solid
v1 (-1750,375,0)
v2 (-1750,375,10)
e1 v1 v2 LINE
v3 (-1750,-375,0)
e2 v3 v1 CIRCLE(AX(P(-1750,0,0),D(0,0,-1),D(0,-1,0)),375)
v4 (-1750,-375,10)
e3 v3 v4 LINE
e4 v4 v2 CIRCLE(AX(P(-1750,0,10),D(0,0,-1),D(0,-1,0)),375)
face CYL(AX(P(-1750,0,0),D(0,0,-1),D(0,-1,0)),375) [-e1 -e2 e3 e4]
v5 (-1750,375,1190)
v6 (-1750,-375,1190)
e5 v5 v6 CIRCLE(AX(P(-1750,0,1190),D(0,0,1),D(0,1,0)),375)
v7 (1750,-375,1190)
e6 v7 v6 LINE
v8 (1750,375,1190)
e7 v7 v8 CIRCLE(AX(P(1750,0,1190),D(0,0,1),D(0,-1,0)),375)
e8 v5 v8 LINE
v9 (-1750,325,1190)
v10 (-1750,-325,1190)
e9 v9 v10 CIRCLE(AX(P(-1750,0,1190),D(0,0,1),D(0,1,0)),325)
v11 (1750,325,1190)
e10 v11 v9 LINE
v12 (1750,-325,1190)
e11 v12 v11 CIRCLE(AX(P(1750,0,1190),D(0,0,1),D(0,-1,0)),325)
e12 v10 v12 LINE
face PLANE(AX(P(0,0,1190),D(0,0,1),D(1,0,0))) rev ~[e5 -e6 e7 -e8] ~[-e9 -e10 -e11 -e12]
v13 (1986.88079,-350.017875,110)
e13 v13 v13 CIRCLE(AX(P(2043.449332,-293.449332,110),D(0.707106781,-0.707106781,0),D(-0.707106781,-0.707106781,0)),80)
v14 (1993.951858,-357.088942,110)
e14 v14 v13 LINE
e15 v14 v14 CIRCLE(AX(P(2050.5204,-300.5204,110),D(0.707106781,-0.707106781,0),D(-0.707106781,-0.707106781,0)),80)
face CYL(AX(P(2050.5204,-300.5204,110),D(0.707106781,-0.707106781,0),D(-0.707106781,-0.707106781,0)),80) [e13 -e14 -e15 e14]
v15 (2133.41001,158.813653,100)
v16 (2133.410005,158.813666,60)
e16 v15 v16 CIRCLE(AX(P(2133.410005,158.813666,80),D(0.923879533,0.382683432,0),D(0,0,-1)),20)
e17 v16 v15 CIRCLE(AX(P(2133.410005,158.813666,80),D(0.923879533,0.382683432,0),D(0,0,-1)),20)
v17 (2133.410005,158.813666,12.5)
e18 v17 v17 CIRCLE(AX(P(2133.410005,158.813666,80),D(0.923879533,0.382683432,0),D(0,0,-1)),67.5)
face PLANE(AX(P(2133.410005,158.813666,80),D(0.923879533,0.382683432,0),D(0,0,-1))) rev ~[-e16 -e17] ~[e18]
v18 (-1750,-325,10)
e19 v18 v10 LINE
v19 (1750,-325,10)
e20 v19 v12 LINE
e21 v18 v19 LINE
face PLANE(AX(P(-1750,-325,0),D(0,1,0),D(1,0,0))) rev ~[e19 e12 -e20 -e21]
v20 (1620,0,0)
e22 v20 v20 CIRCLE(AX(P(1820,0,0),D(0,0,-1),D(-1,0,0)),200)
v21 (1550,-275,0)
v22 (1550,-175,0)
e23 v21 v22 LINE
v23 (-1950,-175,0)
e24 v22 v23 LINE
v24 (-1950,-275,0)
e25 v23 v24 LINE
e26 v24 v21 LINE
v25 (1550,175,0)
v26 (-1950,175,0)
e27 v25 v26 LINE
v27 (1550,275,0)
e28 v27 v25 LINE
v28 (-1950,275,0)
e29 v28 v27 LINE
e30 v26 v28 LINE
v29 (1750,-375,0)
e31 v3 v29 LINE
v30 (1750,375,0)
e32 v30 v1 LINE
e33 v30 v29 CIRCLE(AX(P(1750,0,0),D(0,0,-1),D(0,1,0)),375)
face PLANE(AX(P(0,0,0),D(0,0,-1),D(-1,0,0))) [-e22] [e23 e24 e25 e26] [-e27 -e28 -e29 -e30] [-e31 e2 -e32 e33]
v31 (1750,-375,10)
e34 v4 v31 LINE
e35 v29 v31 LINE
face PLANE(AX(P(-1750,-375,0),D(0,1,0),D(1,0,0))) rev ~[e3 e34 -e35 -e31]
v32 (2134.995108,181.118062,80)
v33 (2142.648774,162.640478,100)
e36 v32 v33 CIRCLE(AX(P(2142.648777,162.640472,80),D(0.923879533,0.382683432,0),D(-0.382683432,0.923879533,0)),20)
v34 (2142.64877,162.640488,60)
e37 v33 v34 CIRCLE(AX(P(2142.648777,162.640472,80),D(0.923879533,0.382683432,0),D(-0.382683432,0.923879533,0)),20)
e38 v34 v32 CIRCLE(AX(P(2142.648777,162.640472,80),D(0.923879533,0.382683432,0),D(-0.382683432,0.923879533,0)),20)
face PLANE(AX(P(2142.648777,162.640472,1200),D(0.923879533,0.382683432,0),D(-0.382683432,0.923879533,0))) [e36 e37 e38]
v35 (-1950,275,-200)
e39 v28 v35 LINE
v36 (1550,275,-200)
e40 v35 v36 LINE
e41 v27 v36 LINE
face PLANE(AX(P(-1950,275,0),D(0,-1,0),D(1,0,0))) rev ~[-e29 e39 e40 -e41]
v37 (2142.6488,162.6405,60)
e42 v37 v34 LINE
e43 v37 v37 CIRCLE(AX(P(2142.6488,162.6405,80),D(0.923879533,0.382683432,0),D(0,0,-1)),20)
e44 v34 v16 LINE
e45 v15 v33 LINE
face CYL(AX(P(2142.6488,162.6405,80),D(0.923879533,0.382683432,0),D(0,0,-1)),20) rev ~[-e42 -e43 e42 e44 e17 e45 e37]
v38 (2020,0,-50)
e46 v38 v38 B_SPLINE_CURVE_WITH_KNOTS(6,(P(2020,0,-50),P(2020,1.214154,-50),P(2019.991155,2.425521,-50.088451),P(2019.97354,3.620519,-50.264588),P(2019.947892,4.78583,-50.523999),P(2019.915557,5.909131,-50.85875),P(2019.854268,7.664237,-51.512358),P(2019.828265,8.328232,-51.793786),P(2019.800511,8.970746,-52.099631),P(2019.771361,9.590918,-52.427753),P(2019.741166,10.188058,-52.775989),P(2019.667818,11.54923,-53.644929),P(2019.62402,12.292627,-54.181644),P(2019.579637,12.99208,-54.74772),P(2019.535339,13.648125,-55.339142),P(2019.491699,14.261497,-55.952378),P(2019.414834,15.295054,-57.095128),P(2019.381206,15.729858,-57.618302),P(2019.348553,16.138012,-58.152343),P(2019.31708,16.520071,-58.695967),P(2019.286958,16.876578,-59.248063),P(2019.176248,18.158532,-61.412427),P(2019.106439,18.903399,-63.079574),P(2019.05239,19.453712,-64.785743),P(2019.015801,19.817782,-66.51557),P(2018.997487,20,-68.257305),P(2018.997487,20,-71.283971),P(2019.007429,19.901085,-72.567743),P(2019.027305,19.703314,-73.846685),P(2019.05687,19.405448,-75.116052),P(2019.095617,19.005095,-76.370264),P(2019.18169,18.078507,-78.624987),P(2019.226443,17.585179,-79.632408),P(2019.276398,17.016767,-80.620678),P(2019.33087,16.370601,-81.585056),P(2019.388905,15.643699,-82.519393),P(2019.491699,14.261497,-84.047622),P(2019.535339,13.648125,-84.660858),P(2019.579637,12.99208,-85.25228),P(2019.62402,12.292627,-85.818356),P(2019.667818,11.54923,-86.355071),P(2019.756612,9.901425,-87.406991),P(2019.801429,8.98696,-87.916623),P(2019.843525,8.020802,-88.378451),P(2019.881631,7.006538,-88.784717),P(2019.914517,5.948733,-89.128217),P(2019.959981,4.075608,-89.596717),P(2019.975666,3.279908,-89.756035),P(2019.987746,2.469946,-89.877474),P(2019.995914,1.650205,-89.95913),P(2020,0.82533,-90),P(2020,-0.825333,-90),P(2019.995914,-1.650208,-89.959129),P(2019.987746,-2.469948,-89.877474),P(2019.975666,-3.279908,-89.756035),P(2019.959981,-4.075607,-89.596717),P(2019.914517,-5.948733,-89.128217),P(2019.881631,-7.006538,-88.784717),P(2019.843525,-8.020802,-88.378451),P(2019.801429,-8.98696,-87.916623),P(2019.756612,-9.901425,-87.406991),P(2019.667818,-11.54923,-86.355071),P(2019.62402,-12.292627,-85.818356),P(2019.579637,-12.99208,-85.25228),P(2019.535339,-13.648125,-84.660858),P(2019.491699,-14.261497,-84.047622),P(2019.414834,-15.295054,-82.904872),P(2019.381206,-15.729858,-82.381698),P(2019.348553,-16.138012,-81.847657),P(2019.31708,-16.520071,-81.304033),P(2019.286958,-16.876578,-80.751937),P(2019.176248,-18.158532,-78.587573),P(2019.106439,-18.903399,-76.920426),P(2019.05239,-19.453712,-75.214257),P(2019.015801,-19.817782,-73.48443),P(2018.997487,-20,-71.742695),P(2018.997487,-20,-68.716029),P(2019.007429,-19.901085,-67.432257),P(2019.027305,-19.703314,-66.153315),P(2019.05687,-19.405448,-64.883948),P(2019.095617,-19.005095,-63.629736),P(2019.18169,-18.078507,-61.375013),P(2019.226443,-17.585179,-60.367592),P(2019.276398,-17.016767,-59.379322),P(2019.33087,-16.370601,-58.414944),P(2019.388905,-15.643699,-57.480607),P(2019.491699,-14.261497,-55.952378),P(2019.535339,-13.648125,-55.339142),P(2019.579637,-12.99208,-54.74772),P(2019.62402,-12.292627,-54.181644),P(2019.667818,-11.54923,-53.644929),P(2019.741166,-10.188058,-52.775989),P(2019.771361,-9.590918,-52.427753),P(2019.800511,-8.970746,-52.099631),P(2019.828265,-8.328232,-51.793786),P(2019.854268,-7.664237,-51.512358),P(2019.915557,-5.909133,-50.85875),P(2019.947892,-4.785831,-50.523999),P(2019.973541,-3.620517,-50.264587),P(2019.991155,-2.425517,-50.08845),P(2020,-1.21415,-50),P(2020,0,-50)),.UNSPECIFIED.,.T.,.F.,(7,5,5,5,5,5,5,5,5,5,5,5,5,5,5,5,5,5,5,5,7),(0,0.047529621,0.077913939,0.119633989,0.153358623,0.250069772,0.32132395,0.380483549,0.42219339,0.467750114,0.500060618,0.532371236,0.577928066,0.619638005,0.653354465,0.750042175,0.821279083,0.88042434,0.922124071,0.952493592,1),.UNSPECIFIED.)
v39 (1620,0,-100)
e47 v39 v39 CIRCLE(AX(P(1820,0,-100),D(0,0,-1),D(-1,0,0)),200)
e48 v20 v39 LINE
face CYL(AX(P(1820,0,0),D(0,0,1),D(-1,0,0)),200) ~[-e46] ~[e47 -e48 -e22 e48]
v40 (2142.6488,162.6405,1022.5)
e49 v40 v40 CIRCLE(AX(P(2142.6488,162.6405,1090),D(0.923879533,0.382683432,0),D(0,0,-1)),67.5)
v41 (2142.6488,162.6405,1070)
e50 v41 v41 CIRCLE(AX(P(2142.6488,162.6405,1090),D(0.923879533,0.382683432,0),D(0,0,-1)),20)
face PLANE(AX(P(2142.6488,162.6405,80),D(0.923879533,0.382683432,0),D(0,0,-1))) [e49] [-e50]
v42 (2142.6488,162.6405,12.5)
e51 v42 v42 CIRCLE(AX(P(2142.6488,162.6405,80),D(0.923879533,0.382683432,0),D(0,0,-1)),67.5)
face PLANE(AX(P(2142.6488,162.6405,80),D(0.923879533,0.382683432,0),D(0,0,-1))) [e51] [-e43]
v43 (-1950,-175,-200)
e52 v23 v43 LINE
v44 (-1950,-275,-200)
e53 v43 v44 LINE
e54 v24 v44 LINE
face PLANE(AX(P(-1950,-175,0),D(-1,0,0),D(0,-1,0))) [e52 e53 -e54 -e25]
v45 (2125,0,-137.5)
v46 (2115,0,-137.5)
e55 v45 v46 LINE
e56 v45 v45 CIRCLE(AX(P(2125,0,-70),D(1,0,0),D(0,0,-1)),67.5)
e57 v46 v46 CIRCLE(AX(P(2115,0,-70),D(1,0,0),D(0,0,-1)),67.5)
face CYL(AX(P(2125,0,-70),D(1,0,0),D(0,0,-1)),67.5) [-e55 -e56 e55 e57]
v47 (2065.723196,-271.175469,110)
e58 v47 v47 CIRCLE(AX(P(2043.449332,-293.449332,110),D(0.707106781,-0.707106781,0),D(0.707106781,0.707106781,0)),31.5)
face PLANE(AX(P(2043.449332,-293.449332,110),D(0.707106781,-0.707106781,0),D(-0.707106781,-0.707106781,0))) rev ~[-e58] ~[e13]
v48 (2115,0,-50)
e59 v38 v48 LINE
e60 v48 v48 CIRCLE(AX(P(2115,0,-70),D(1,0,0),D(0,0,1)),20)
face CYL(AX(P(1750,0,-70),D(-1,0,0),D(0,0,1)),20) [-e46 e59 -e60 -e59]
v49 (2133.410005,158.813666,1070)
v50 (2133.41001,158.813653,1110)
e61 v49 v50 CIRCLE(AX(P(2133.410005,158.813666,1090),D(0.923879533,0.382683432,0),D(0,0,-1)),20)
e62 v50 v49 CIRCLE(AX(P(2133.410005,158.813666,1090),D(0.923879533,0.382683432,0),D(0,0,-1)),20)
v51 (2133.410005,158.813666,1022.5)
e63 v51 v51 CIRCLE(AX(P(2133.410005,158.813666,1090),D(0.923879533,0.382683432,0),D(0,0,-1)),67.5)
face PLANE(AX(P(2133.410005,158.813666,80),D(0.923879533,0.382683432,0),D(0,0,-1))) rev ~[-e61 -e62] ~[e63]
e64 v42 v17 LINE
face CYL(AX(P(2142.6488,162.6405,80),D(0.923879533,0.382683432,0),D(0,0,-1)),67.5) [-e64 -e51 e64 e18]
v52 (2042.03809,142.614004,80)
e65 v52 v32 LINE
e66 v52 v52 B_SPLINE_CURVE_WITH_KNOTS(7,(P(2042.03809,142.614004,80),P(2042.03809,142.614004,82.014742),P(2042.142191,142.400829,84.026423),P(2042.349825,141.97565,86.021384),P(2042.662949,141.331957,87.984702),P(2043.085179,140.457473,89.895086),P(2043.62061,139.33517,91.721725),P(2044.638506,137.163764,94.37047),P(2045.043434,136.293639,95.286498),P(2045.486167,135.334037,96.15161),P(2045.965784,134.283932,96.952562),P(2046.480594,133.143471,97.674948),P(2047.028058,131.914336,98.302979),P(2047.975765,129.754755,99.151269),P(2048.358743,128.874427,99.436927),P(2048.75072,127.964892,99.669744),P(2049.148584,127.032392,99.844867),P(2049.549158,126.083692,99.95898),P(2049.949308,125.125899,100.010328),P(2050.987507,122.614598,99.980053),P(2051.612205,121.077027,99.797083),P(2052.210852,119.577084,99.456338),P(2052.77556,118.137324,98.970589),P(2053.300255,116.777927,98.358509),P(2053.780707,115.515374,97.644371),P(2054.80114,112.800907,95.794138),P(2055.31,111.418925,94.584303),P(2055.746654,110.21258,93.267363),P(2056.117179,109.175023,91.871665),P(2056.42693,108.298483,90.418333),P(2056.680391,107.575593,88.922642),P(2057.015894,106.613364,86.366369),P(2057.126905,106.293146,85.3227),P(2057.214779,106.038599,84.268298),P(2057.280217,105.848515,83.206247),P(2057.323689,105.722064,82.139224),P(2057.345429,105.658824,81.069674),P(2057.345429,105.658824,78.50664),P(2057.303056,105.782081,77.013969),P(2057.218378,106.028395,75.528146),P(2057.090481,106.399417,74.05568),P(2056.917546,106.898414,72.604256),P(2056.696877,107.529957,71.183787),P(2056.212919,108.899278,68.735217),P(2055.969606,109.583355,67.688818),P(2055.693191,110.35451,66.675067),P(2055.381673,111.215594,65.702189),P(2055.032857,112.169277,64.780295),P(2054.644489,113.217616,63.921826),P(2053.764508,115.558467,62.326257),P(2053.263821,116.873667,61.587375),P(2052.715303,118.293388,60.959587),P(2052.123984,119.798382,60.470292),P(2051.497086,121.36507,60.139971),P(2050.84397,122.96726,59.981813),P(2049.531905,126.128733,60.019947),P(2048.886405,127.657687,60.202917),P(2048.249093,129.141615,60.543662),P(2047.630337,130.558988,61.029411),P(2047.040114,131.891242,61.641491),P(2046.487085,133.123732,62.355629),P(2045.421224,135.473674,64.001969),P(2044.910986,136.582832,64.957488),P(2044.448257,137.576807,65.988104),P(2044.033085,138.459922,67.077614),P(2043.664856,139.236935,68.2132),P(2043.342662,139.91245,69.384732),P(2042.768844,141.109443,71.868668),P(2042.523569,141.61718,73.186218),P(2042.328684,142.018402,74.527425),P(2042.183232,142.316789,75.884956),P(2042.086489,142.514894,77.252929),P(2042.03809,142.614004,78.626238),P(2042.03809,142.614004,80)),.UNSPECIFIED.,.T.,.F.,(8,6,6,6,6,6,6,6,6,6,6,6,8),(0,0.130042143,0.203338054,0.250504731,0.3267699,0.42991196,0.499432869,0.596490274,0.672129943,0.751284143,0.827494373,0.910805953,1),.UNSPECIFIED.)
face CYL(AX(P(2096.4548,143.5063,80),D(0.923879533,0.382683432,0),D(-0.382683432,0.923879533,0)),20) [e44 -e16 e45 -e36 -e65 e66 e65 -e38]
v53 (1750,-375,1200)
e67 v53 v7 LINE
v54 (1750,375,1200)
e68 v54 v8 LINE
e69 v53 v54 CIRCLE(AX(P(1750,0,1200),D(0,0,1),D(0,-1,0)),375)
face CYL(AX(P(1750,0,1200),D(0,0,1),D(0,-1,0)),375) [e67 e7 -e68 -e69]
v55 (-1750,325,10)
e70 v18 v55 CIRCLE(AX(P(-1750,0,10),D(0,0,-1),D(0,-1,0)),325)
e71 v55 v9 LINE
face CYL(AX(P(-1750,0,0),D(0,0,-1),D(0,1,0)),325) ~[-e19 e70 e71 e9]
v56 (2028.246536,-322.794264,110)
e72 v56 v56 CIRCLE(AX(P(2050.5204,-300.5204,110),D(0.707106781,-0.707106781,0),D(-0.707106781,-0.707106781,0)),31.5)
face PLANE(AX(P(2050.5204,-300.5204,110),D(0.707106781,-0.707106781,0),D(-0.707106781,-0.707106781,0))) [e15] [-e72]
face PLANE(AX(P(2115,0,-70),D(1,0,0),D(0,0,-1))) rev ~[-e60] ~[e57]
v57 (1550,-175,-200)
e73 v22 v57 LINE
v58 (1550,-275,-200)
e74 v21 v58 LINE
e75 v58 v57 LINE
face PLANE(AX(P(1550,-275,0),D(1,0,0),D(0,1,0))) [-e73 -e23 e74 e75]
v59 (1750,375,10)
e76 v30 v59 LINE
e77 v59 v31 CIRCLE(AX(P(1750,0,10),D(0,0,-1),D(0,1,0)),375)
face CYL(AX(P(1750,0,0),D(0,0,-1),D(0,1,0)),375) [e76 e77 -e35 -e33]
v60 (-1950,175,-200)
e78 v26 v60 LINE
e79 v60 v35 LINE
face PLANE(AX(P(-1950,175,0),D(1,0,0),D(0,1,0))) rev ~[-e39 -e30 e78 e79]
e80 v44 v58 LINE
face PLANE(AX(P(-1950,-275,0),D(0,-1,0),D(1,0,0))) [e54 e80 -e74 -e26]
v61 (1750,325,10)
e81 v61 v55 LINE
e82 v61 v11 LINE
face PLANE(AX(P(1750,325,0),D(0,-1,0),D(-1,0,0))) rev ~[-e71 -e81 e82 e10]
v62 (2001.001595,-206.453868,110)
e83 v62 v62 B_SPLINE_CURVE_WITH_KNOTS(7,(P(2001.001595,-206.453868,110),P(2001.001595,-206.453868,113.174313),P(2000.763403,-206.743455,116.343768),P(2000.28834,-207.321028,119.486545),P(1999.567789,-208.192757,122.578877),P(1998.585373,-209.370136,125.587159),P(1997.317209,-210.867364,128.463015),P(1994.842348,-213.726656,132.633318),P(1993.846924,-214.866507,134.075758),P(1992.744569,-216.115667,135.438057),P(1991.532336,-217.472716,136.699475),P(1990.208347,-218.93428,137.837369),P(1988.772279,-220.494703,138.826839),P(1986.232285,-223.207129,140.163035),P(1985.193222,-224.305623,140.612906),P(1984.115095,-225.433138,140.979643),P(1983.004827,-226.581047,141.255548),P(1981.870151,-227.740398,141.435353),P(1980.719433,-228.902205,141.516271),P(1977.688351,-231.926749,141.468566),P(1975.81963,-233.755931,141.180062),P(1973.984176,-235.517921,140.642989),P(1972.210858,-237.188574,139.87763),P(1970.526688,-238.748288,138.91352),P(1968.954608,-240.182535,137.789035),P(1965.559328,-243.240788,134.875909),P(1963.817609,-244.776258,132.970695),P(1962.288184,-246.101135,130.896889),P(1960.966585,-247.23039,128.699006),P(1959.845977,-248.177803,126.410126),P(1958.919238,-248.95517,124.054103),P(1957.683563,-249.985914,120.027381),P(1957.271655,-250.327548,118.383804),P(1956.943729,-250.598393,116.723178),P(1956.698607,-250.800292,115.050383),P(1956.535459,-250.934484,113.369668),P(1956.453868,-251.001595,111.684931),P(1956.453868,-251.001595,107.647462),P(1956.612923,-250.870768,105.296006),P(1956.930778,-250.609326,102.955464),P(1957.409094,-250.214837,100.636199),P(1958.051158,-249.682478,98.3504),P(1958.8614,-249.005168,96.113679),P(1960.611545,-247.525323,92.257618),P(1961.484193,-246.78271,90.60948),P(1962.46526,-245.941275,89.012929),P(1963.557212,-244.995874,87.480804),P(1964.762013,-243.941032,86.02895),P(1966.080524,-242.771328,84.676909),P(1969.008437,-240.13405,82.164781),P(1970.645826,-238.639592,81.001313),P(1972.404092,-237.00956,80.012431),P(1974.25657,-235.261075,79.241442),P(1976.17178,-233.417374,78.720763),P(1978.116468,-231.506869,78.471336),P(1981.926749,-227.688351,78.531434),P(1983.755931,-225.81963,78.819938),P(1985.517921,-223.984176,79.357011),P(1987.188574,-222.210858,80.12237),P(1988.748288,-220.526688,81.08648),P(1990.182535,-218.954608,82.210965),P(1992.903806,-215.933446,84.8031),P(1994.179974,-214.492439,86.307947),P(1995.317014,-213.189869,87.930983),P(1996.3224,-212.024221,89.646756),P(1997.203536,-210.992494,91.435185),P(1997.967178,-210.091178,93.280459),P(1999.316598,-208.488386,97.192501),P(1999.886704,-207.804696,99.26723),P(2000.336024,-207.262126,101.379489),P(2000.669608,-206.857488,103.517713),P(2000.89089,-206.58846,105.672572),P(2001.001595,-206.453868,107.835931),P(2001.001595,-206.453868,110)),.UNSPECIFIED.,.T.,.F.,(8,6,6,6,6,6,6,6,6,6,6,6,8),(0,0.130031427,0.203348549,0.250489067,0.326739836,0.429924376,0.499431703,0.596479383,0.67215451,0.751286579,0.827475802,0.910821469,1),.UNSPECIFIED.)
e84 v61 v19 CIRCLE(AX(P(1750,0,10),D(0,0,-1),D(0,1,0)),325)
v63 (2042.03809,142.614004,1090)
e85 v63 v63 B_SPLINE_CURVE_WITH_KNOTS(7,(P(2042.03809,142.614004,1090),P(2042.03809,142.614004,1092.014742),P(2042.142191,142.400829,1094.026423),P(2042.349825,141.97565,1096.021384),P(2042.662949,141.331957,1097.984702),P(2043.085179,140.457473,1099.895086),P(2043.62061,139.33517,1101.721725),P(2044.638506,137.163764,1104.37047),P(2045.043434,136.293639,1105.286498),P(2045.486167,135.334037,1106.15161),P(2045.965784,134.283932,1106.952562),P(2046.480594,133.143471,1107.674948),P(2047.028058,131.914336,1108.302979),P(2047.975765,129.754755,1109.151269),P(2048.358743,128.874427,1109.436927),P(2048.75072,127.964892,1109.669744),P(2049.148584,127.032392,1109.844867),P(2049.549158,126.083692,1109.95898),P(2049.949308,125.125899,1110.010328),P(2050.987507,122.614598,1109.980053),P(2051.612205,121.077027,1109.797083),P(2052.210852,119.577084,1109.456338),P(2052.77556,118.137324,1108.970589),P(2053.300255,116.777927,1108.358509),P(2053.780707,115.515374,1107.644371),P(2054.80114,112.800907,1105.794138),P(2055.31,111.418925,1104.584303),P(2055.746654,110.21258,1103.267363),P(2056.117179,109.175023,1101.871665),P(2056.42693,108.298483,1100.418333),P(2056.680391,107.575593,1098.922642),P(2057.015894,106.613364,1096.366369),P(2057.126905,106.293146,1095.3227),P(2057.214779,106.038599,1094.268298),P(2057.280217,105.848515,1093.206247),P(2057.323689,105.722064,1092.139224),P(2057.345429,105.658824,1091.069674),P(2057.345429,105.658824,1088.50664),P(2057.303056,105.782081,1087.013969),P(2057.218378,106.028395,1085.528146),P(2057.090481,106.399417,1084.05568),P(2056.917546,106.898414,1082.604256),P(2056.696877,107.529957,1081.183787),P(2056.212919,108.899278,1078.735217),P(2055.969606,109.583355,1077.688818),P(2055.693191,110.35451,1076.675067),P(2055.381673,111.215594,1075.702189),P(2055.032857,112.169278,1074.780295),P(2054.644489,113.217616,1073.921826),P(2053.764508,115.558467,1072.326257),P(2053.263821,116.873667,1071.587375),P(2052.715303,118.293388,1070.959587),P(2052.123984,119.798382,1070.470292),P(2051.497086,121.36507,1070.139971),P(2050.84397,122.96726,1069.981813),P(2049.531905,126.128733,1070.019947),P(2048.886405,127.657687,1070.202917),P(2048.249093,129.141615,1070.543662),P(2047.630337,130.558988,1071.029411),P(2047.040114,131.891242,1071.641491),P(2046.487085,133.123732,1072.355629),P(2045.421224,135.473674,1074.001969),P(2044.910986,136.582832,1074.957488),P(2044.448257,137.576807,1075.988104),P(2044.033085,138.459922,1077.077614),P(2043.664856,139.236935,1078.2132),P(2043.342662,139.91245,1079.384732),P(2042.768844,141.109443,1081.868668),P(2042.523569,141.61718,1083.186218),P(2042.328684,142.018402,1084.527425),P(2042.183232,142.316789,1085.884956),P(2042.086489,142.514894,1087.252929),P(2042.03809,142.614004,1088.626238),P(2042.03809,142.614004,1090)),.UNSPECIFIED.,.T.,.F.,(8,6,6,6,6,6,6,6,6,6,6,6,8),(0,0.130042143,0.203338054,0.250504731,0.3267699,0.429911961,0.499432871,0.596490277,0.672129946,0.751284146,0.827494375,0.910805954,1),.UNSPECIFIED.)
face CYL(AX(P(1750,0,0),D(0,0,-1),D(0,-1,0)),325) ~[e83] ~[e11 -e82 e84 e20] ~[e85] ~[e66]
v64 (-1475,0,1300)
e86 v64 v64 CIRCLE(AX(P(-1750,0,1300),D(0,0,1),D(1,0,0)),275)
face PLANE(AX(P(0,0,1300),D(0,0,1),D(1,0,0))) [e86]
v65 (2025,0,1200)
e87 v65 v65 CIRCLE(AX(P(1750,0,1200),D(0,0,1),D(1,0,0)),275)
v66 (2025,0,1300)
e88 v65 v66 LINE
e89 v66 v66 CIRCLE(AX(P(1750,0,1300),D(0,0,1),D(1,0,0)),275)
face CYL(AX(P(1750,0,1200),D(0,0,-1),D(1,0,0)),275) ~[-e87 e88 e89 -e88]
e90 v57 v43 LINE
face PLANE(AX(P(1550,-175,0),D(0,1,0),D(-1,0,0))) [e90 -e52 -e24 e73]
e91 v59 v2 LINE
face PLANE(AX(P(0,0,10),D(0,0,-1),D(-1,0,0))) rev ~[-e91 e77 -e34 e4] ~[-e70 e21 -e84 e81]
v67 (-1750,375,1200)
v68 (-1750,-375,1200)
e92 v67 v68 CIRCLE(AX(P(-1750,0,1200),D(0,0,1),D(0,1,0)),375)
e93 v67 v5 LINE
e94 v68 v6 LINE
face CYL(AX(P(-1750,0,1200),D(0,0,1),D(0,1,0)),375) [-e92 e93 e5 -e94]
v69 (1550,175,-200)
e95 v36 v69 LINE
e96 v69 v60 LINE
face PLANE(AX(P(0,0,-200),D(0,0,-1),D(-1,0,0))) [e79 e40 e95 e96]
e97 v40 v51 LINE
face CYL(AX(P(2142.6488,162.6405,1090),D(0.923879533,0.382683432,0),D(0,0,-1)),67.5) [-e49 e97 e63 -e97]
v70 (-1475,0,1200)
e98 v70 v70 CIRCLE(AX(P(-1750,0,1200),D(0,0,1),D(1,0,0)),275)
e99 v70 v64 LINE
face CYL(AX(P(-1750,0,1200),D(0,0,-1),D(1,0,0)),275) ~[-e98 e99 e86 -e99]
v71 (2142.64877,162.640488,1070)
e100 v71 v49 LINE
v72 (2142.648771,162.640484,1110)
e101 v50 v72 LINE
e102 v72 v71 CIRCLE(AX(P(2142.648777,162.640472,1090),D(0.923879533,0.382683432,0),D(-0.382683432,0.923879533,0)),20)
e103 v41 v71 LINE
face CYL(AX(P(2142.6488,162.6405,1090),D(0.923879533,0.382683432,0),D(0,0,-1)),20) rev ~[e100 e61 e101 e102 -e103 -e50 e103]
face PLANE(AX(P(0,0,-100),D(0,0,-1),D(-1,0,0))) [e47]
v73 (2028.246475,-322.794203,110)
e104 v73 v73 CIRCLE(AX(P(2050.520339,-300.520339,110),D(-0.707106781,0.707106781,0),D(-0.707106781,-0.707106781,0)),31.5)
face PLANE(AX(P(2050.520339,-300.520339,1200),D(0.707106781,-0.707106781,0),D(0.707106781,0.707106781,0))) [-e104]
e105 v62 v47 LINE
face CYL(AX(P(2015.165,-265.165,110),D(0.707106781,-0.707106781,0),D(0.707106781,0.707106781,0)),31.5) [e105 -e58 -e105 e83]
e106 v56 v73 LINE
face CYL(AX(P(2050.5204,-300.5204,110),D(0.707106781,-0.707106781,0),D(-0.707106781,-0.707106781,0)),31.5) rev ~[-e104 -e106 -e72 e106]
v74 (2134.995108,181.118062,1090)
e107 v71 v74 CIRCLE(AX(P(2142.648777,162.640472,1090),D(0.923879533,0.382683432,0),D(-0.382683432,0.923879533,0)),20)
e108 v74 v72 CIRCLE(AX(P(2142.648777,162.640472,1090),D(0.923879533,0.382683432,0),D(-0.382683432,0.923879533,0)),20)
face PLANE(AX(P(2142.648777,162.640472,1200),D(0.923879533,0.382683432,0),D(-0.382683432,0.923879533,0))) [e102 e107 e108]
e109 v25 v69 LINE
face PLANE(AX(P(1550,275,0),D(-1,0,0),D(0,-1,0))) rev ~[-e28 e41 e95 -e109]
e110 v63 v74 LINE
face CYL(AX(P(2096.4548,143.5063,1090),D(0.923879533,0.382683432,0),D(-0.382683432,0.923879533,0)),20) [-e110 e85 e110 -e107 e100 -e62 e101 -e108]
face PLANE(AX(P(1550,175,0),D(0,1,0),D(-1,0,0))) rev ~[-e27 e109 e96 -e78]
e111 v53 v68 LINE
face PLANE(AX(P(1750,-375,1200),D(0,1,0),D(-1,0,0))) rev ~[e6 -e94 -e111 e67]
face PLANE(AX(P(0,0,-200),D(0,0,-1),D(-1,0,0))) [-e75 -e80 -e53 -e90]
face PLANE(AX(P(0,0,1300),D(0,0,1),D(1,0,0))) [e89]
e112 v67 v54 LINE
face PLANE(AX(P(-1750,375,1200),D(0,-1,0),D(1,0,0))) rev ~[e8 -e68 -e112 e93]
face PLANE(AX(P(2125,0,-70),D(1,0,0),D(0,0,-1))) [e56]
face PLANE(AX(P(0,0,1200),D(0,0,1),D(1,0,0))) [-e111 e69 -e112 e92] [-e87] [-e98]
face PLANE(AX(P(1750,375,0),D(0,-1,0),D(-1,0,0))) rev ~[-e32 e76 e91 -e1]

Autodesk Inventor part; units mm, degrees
sketch "Sketch1" plane through (0, 0, 0) normal (0, 0, 1) x (1, 0, 0)
  line L0 (-1750, 0) -> (1750, 0) construction
  line L1 (-1750, -325) -> (1750, -325)
  line L2 (1750, 325) -> (-1750, 325)
  arc A0 (-1750, 325) -> (-1750, -325) centre (-1750, 0) ccw
  arc A1 (1750, -325) -> (1750, 325) centre (1750, 0) ccw
  point P0 (0, 0)
  point P1 (0, 0)
  dimension "d0" = 3500
  dimension "d1" = 650
extrude "Extrusion1" add sketch "Sketch1" along normal blind 1200
sketch "Sketch2" plane through (0, 0, 1200) normal (0, 0, 1) x (1, 0, 0)
  arc A0 (1750, -325) -> (1750, 325) centre (1750, 0) ccw projected
  line L0 (1750, 325) -> (-1750, 325) projected
  arc A1 (-1750, 325) -> (-1750, -325) centre (-1750, 0) ccw projected
  line L1 (-1750, -325) -> (1750, -325) projected
  line L2 (-1750, 375) -> (1750, 375)
  arc A2 (1750, -375) -> (1750, 375) centre (1750, 0) ccw
  line L3 (1750, -375) -> (-1750, -375)
  arc A3 (-1750, 375) -> (-1750, -375) centre (-1750, 0) ccw
  point P0 (0, 0)
  dimension "d4" = 50
extrude "Extrusion2" add sketch "Sketch2" against normal blind 10
sketch "Sketch3" plane through (0, 0, 0) normal (0, 0, -1) x (-1, 0, 0)
  arc A0 (-1750, 325) -> (-1750, -325) centre (-1750, 0) ccw projected
  line L0 (1750, -325) -> (-1750, -325) projected
  arc A1 (1750, -325) -> (1750, 325) centre (1750, 0) ccw projected
  line L1 (-1750, 325) -> (1750, 325) projected
  arc A2 (-1750, 375) -> (-1750, -375) centre (-1750, 0) ccw
  line L2 (-1750, 375) -> (1750, 375)
  arc A3 (1750, -375) -> (1750, 375) centre (1750, 0) ccw
  line L3 (1750, -375) -> (-1750, -375)
  point P0 (0, 0)
  dimension "d7" = 50
extrude "Extrusion3" add sketch "Sketch3" against normal blind 10
sketch "Sketch4" plane through (0, 0, 0) normal (0, 0, -1) x (-1, 0, 0)
  circle A0 centre (-1820, 0) radius 200
  arc A1 (-1750, 325) -> (-1750, -325) centre (-1750, 0) ccw projected
  arc A2 (-1750, 325) -> (-1750, -325) centre (-1750, 0) ccw projected
  point P0 (0, 0)
  dimension "d10" = 400
  dimension "d59" = 70
extrude "Extrusion4" add sketch "Sketch4" along normal blind 100
ref_plane "Work Plane1" through (1750, -325, 0) normal (-1, 0, 0) x (0, 0, 1)
sketch "Sketch5" plane through (1750, -325, 0) normal (-1, 0, 0) x (0, 0, 1)
  line L0 (-100, 525) -> (-100, 125) projected
  line L1 (0, 125) -> (0, 525) projected
  circle A0 centre (-70, 325) radius 20
  point P0 (0, 325)
  point P1 (0, 125)
  point P2 (0, 525)
  point P3 (0, 325)
  dimension "d13" = 40
  dimension "d14" = 30
extrude "Extrusion5" add sketch "Sketch5" against normal blind 375
sketch "Sketch6" plane through (2125, 0, -70) normal (1, 0, 0) x (0, 0, -1)
  circle A0 centre (0, 0) radius 20 projected
  circle A1 centre (0, 0) radius 67.5
  line L0 (-70, -375) -> (-70, 375) projected
  line L1 (67.5, 0) -> (67.5, -294.9779)
  point P0 (-70, 0)
  dimension "d18" = 135
  dimension "d40" = 137.5
extrude "Extrusion6" add sketch "Sketch6" against normal blind 10
sketch "Sketch7" plane through (0, 0, 1200) normal (0, 0, 1) x (1, 0, 0)
  line L0 (1750, 375) -> (-1750, 375) projected
  arc A0 (-1750, 375) -> (-1750, -375) centre (-1750, 0) ccw projected
  line L1 (-1750, -375) -> (1750, -375) projected
  arc A1 (1750, -375) -> (1750, 375) centre (1750, 0) ccw projected
  line L2 (1750, 0) -> (2125, 0)
  line L3 (1750, 0) -> (2096.4548, 143.5063)
  line L4 (1750, 0) -> (2015.165, -265.165)
  point P0 (0, 0)
  dimension "d21" = 22.5
  dimension "d23" = 45
ref_plane "Work Plane2" through (2096.4548, 143.5063, 1200) normal (0.9239, 0.3827, 0) x (-0.3827, 0.9239, 0)
ref_plane "Work Plane3" through (2015.165, -265.165, 1200) normal (0.7071, -0.7071, 0) x (0.7071, 0.7071, 0)
sketch "Sketch8" plane through (2096.4548, 143.5063, 1200) normal (0.9239, 0.3827, 0) x (-0.3827, 0.9239, 0)
  line L0 (300.2608, -1190) -> (300.2608, -10) projected
  line L1 (-300.2608, -1190) -> (-300.2608, -10) projected
  circle A0 centre (0, -110) radius 20
  circle A1 centre (0, -1120) radius 20
  line L2 (-300.2608, -1190) -> (300.2608, -1190) projected
  line L3 (300.2608, -10) -> (-300.2608, -10) projected
  point P0 (669.696, -1200)
  point P1 (0, 0)
  point P2 (0, 0)
  point P3 (0, 0)
  dimension "d24" = 40
extrude "Extrusion7" add sketch "Sketch8" along normal blind 50 and the other way blind 100 contours A0 | A1
sketch "Sketch9" plane through (2015.165, -265.165, 1200) normal (0.7071, -0.7071, 0) x (0.7071, 0.7071, 0)
  line L0 (229.8097, -1190) -> (229.8097, -10) projected
  line L1 (-229.8097, -1190) -> (-229.8097, -10) projected
  circle A0 centre (0, -1090) radius 31.5
  line L2 (-229.8097, -1190) -> (229.8097, -1190) projected
  line L3 (229.8097, -10) -> (-229.8097, -10) projected
  point P0 (-1237.4369, -1200)
  point P1 (0, 0)
  point P2 (0, 0)
  point P3 (0, 0)
  dimension "d31" = 63
extrude "Extrusion8" add sketch "Sketch9" along normal blind 50 and the other way blind 100 contours A0
sketch "Sketch10" plane through (2050.5204, -300.5204, 110) normal (0.7071, -0.7071, 0) x (-0.7071, -0.7071, 0)
  circle A0 centre (0, 0) radius 31.5 projected
  circle A1 centre (0, 0) radius 80
  point P0 (1237.4369, 110)
  dimension "d37" = 160
extrude "Extrusion9" add sketch "Sketch10" against normal blind 10
sketch "Sketch13" plane through (2142.6488, 162.6405, 80) normal (0.9239, 0.3827, 0) x (0, 0, -1)
  circle A0 centre (0, 0) radius 20 projected
  circle A1 centre (-1010, 0) radius 20 projected
  circle A2 centre (-1010, 0) radius 67.5
  circle A3 centre (0, 0) radius 67.5
  point P0 (80, 669.696)
  dimension "d44" = 135
  dimension "d45" = 135
extrude "Extrusion10" add sketch "Sketch13" against normal blind 10
sketch "Sketch14" plane through (0, 0, 1200) normal (0, 0, 1) x (1, 0, 0)
  arc A0 (-1750, 325) -> (-1750, -325) centre (-1750, 0) ccw projected
  circle A1 centre (-1750, 0) radius 275
  arc A2 (1750, -325) -> (1750, 325) centre (1750, 0) ccw projected
  circle A3 centre (1750, 0) radius 275
  point P0 (0, 0)
  dimension "d48" = 550
  dimension "d49" = 550
extrude "Extrusion11" add sketch "Sketch14" along normal blind 100
sketch "Sketch15" plane through (0, 0, 0) normal (0, 0, -1) x (-1, 0, 0)
  line L0 (-1550, -175) -> (1950, -175)
  line L1 (1950, -175) -> (1950, -275)
  line L2 (1950, -275) -> (-1550, -275)
  line L3 (-1550, -275) -> (-1550, -175)
  line L4 (-1550, 175) -> (1950, 175)
  line L5 (1950, 175) -> (1950, 275)
  line L6 (1950, 275) -> (-1550, 275)
  line L7 (-1550, 275) -> (-1550, 175)
  line L8 (0, 0) -> (1601.4789, 0)
  line L9 (1750, 375) -> (-1750, 375) projected
  point P0 (200, -275)
  point P1 (0, 375)
  dimension "d52" = 100
  dimension "d53" = 550
  dimension "d58" = 1950
  dimension "d60" = 1550
extrude "Extrusion12" add sketch "Sketch15" along normal blind 200
properties part number "GNG НаOCl tank"
